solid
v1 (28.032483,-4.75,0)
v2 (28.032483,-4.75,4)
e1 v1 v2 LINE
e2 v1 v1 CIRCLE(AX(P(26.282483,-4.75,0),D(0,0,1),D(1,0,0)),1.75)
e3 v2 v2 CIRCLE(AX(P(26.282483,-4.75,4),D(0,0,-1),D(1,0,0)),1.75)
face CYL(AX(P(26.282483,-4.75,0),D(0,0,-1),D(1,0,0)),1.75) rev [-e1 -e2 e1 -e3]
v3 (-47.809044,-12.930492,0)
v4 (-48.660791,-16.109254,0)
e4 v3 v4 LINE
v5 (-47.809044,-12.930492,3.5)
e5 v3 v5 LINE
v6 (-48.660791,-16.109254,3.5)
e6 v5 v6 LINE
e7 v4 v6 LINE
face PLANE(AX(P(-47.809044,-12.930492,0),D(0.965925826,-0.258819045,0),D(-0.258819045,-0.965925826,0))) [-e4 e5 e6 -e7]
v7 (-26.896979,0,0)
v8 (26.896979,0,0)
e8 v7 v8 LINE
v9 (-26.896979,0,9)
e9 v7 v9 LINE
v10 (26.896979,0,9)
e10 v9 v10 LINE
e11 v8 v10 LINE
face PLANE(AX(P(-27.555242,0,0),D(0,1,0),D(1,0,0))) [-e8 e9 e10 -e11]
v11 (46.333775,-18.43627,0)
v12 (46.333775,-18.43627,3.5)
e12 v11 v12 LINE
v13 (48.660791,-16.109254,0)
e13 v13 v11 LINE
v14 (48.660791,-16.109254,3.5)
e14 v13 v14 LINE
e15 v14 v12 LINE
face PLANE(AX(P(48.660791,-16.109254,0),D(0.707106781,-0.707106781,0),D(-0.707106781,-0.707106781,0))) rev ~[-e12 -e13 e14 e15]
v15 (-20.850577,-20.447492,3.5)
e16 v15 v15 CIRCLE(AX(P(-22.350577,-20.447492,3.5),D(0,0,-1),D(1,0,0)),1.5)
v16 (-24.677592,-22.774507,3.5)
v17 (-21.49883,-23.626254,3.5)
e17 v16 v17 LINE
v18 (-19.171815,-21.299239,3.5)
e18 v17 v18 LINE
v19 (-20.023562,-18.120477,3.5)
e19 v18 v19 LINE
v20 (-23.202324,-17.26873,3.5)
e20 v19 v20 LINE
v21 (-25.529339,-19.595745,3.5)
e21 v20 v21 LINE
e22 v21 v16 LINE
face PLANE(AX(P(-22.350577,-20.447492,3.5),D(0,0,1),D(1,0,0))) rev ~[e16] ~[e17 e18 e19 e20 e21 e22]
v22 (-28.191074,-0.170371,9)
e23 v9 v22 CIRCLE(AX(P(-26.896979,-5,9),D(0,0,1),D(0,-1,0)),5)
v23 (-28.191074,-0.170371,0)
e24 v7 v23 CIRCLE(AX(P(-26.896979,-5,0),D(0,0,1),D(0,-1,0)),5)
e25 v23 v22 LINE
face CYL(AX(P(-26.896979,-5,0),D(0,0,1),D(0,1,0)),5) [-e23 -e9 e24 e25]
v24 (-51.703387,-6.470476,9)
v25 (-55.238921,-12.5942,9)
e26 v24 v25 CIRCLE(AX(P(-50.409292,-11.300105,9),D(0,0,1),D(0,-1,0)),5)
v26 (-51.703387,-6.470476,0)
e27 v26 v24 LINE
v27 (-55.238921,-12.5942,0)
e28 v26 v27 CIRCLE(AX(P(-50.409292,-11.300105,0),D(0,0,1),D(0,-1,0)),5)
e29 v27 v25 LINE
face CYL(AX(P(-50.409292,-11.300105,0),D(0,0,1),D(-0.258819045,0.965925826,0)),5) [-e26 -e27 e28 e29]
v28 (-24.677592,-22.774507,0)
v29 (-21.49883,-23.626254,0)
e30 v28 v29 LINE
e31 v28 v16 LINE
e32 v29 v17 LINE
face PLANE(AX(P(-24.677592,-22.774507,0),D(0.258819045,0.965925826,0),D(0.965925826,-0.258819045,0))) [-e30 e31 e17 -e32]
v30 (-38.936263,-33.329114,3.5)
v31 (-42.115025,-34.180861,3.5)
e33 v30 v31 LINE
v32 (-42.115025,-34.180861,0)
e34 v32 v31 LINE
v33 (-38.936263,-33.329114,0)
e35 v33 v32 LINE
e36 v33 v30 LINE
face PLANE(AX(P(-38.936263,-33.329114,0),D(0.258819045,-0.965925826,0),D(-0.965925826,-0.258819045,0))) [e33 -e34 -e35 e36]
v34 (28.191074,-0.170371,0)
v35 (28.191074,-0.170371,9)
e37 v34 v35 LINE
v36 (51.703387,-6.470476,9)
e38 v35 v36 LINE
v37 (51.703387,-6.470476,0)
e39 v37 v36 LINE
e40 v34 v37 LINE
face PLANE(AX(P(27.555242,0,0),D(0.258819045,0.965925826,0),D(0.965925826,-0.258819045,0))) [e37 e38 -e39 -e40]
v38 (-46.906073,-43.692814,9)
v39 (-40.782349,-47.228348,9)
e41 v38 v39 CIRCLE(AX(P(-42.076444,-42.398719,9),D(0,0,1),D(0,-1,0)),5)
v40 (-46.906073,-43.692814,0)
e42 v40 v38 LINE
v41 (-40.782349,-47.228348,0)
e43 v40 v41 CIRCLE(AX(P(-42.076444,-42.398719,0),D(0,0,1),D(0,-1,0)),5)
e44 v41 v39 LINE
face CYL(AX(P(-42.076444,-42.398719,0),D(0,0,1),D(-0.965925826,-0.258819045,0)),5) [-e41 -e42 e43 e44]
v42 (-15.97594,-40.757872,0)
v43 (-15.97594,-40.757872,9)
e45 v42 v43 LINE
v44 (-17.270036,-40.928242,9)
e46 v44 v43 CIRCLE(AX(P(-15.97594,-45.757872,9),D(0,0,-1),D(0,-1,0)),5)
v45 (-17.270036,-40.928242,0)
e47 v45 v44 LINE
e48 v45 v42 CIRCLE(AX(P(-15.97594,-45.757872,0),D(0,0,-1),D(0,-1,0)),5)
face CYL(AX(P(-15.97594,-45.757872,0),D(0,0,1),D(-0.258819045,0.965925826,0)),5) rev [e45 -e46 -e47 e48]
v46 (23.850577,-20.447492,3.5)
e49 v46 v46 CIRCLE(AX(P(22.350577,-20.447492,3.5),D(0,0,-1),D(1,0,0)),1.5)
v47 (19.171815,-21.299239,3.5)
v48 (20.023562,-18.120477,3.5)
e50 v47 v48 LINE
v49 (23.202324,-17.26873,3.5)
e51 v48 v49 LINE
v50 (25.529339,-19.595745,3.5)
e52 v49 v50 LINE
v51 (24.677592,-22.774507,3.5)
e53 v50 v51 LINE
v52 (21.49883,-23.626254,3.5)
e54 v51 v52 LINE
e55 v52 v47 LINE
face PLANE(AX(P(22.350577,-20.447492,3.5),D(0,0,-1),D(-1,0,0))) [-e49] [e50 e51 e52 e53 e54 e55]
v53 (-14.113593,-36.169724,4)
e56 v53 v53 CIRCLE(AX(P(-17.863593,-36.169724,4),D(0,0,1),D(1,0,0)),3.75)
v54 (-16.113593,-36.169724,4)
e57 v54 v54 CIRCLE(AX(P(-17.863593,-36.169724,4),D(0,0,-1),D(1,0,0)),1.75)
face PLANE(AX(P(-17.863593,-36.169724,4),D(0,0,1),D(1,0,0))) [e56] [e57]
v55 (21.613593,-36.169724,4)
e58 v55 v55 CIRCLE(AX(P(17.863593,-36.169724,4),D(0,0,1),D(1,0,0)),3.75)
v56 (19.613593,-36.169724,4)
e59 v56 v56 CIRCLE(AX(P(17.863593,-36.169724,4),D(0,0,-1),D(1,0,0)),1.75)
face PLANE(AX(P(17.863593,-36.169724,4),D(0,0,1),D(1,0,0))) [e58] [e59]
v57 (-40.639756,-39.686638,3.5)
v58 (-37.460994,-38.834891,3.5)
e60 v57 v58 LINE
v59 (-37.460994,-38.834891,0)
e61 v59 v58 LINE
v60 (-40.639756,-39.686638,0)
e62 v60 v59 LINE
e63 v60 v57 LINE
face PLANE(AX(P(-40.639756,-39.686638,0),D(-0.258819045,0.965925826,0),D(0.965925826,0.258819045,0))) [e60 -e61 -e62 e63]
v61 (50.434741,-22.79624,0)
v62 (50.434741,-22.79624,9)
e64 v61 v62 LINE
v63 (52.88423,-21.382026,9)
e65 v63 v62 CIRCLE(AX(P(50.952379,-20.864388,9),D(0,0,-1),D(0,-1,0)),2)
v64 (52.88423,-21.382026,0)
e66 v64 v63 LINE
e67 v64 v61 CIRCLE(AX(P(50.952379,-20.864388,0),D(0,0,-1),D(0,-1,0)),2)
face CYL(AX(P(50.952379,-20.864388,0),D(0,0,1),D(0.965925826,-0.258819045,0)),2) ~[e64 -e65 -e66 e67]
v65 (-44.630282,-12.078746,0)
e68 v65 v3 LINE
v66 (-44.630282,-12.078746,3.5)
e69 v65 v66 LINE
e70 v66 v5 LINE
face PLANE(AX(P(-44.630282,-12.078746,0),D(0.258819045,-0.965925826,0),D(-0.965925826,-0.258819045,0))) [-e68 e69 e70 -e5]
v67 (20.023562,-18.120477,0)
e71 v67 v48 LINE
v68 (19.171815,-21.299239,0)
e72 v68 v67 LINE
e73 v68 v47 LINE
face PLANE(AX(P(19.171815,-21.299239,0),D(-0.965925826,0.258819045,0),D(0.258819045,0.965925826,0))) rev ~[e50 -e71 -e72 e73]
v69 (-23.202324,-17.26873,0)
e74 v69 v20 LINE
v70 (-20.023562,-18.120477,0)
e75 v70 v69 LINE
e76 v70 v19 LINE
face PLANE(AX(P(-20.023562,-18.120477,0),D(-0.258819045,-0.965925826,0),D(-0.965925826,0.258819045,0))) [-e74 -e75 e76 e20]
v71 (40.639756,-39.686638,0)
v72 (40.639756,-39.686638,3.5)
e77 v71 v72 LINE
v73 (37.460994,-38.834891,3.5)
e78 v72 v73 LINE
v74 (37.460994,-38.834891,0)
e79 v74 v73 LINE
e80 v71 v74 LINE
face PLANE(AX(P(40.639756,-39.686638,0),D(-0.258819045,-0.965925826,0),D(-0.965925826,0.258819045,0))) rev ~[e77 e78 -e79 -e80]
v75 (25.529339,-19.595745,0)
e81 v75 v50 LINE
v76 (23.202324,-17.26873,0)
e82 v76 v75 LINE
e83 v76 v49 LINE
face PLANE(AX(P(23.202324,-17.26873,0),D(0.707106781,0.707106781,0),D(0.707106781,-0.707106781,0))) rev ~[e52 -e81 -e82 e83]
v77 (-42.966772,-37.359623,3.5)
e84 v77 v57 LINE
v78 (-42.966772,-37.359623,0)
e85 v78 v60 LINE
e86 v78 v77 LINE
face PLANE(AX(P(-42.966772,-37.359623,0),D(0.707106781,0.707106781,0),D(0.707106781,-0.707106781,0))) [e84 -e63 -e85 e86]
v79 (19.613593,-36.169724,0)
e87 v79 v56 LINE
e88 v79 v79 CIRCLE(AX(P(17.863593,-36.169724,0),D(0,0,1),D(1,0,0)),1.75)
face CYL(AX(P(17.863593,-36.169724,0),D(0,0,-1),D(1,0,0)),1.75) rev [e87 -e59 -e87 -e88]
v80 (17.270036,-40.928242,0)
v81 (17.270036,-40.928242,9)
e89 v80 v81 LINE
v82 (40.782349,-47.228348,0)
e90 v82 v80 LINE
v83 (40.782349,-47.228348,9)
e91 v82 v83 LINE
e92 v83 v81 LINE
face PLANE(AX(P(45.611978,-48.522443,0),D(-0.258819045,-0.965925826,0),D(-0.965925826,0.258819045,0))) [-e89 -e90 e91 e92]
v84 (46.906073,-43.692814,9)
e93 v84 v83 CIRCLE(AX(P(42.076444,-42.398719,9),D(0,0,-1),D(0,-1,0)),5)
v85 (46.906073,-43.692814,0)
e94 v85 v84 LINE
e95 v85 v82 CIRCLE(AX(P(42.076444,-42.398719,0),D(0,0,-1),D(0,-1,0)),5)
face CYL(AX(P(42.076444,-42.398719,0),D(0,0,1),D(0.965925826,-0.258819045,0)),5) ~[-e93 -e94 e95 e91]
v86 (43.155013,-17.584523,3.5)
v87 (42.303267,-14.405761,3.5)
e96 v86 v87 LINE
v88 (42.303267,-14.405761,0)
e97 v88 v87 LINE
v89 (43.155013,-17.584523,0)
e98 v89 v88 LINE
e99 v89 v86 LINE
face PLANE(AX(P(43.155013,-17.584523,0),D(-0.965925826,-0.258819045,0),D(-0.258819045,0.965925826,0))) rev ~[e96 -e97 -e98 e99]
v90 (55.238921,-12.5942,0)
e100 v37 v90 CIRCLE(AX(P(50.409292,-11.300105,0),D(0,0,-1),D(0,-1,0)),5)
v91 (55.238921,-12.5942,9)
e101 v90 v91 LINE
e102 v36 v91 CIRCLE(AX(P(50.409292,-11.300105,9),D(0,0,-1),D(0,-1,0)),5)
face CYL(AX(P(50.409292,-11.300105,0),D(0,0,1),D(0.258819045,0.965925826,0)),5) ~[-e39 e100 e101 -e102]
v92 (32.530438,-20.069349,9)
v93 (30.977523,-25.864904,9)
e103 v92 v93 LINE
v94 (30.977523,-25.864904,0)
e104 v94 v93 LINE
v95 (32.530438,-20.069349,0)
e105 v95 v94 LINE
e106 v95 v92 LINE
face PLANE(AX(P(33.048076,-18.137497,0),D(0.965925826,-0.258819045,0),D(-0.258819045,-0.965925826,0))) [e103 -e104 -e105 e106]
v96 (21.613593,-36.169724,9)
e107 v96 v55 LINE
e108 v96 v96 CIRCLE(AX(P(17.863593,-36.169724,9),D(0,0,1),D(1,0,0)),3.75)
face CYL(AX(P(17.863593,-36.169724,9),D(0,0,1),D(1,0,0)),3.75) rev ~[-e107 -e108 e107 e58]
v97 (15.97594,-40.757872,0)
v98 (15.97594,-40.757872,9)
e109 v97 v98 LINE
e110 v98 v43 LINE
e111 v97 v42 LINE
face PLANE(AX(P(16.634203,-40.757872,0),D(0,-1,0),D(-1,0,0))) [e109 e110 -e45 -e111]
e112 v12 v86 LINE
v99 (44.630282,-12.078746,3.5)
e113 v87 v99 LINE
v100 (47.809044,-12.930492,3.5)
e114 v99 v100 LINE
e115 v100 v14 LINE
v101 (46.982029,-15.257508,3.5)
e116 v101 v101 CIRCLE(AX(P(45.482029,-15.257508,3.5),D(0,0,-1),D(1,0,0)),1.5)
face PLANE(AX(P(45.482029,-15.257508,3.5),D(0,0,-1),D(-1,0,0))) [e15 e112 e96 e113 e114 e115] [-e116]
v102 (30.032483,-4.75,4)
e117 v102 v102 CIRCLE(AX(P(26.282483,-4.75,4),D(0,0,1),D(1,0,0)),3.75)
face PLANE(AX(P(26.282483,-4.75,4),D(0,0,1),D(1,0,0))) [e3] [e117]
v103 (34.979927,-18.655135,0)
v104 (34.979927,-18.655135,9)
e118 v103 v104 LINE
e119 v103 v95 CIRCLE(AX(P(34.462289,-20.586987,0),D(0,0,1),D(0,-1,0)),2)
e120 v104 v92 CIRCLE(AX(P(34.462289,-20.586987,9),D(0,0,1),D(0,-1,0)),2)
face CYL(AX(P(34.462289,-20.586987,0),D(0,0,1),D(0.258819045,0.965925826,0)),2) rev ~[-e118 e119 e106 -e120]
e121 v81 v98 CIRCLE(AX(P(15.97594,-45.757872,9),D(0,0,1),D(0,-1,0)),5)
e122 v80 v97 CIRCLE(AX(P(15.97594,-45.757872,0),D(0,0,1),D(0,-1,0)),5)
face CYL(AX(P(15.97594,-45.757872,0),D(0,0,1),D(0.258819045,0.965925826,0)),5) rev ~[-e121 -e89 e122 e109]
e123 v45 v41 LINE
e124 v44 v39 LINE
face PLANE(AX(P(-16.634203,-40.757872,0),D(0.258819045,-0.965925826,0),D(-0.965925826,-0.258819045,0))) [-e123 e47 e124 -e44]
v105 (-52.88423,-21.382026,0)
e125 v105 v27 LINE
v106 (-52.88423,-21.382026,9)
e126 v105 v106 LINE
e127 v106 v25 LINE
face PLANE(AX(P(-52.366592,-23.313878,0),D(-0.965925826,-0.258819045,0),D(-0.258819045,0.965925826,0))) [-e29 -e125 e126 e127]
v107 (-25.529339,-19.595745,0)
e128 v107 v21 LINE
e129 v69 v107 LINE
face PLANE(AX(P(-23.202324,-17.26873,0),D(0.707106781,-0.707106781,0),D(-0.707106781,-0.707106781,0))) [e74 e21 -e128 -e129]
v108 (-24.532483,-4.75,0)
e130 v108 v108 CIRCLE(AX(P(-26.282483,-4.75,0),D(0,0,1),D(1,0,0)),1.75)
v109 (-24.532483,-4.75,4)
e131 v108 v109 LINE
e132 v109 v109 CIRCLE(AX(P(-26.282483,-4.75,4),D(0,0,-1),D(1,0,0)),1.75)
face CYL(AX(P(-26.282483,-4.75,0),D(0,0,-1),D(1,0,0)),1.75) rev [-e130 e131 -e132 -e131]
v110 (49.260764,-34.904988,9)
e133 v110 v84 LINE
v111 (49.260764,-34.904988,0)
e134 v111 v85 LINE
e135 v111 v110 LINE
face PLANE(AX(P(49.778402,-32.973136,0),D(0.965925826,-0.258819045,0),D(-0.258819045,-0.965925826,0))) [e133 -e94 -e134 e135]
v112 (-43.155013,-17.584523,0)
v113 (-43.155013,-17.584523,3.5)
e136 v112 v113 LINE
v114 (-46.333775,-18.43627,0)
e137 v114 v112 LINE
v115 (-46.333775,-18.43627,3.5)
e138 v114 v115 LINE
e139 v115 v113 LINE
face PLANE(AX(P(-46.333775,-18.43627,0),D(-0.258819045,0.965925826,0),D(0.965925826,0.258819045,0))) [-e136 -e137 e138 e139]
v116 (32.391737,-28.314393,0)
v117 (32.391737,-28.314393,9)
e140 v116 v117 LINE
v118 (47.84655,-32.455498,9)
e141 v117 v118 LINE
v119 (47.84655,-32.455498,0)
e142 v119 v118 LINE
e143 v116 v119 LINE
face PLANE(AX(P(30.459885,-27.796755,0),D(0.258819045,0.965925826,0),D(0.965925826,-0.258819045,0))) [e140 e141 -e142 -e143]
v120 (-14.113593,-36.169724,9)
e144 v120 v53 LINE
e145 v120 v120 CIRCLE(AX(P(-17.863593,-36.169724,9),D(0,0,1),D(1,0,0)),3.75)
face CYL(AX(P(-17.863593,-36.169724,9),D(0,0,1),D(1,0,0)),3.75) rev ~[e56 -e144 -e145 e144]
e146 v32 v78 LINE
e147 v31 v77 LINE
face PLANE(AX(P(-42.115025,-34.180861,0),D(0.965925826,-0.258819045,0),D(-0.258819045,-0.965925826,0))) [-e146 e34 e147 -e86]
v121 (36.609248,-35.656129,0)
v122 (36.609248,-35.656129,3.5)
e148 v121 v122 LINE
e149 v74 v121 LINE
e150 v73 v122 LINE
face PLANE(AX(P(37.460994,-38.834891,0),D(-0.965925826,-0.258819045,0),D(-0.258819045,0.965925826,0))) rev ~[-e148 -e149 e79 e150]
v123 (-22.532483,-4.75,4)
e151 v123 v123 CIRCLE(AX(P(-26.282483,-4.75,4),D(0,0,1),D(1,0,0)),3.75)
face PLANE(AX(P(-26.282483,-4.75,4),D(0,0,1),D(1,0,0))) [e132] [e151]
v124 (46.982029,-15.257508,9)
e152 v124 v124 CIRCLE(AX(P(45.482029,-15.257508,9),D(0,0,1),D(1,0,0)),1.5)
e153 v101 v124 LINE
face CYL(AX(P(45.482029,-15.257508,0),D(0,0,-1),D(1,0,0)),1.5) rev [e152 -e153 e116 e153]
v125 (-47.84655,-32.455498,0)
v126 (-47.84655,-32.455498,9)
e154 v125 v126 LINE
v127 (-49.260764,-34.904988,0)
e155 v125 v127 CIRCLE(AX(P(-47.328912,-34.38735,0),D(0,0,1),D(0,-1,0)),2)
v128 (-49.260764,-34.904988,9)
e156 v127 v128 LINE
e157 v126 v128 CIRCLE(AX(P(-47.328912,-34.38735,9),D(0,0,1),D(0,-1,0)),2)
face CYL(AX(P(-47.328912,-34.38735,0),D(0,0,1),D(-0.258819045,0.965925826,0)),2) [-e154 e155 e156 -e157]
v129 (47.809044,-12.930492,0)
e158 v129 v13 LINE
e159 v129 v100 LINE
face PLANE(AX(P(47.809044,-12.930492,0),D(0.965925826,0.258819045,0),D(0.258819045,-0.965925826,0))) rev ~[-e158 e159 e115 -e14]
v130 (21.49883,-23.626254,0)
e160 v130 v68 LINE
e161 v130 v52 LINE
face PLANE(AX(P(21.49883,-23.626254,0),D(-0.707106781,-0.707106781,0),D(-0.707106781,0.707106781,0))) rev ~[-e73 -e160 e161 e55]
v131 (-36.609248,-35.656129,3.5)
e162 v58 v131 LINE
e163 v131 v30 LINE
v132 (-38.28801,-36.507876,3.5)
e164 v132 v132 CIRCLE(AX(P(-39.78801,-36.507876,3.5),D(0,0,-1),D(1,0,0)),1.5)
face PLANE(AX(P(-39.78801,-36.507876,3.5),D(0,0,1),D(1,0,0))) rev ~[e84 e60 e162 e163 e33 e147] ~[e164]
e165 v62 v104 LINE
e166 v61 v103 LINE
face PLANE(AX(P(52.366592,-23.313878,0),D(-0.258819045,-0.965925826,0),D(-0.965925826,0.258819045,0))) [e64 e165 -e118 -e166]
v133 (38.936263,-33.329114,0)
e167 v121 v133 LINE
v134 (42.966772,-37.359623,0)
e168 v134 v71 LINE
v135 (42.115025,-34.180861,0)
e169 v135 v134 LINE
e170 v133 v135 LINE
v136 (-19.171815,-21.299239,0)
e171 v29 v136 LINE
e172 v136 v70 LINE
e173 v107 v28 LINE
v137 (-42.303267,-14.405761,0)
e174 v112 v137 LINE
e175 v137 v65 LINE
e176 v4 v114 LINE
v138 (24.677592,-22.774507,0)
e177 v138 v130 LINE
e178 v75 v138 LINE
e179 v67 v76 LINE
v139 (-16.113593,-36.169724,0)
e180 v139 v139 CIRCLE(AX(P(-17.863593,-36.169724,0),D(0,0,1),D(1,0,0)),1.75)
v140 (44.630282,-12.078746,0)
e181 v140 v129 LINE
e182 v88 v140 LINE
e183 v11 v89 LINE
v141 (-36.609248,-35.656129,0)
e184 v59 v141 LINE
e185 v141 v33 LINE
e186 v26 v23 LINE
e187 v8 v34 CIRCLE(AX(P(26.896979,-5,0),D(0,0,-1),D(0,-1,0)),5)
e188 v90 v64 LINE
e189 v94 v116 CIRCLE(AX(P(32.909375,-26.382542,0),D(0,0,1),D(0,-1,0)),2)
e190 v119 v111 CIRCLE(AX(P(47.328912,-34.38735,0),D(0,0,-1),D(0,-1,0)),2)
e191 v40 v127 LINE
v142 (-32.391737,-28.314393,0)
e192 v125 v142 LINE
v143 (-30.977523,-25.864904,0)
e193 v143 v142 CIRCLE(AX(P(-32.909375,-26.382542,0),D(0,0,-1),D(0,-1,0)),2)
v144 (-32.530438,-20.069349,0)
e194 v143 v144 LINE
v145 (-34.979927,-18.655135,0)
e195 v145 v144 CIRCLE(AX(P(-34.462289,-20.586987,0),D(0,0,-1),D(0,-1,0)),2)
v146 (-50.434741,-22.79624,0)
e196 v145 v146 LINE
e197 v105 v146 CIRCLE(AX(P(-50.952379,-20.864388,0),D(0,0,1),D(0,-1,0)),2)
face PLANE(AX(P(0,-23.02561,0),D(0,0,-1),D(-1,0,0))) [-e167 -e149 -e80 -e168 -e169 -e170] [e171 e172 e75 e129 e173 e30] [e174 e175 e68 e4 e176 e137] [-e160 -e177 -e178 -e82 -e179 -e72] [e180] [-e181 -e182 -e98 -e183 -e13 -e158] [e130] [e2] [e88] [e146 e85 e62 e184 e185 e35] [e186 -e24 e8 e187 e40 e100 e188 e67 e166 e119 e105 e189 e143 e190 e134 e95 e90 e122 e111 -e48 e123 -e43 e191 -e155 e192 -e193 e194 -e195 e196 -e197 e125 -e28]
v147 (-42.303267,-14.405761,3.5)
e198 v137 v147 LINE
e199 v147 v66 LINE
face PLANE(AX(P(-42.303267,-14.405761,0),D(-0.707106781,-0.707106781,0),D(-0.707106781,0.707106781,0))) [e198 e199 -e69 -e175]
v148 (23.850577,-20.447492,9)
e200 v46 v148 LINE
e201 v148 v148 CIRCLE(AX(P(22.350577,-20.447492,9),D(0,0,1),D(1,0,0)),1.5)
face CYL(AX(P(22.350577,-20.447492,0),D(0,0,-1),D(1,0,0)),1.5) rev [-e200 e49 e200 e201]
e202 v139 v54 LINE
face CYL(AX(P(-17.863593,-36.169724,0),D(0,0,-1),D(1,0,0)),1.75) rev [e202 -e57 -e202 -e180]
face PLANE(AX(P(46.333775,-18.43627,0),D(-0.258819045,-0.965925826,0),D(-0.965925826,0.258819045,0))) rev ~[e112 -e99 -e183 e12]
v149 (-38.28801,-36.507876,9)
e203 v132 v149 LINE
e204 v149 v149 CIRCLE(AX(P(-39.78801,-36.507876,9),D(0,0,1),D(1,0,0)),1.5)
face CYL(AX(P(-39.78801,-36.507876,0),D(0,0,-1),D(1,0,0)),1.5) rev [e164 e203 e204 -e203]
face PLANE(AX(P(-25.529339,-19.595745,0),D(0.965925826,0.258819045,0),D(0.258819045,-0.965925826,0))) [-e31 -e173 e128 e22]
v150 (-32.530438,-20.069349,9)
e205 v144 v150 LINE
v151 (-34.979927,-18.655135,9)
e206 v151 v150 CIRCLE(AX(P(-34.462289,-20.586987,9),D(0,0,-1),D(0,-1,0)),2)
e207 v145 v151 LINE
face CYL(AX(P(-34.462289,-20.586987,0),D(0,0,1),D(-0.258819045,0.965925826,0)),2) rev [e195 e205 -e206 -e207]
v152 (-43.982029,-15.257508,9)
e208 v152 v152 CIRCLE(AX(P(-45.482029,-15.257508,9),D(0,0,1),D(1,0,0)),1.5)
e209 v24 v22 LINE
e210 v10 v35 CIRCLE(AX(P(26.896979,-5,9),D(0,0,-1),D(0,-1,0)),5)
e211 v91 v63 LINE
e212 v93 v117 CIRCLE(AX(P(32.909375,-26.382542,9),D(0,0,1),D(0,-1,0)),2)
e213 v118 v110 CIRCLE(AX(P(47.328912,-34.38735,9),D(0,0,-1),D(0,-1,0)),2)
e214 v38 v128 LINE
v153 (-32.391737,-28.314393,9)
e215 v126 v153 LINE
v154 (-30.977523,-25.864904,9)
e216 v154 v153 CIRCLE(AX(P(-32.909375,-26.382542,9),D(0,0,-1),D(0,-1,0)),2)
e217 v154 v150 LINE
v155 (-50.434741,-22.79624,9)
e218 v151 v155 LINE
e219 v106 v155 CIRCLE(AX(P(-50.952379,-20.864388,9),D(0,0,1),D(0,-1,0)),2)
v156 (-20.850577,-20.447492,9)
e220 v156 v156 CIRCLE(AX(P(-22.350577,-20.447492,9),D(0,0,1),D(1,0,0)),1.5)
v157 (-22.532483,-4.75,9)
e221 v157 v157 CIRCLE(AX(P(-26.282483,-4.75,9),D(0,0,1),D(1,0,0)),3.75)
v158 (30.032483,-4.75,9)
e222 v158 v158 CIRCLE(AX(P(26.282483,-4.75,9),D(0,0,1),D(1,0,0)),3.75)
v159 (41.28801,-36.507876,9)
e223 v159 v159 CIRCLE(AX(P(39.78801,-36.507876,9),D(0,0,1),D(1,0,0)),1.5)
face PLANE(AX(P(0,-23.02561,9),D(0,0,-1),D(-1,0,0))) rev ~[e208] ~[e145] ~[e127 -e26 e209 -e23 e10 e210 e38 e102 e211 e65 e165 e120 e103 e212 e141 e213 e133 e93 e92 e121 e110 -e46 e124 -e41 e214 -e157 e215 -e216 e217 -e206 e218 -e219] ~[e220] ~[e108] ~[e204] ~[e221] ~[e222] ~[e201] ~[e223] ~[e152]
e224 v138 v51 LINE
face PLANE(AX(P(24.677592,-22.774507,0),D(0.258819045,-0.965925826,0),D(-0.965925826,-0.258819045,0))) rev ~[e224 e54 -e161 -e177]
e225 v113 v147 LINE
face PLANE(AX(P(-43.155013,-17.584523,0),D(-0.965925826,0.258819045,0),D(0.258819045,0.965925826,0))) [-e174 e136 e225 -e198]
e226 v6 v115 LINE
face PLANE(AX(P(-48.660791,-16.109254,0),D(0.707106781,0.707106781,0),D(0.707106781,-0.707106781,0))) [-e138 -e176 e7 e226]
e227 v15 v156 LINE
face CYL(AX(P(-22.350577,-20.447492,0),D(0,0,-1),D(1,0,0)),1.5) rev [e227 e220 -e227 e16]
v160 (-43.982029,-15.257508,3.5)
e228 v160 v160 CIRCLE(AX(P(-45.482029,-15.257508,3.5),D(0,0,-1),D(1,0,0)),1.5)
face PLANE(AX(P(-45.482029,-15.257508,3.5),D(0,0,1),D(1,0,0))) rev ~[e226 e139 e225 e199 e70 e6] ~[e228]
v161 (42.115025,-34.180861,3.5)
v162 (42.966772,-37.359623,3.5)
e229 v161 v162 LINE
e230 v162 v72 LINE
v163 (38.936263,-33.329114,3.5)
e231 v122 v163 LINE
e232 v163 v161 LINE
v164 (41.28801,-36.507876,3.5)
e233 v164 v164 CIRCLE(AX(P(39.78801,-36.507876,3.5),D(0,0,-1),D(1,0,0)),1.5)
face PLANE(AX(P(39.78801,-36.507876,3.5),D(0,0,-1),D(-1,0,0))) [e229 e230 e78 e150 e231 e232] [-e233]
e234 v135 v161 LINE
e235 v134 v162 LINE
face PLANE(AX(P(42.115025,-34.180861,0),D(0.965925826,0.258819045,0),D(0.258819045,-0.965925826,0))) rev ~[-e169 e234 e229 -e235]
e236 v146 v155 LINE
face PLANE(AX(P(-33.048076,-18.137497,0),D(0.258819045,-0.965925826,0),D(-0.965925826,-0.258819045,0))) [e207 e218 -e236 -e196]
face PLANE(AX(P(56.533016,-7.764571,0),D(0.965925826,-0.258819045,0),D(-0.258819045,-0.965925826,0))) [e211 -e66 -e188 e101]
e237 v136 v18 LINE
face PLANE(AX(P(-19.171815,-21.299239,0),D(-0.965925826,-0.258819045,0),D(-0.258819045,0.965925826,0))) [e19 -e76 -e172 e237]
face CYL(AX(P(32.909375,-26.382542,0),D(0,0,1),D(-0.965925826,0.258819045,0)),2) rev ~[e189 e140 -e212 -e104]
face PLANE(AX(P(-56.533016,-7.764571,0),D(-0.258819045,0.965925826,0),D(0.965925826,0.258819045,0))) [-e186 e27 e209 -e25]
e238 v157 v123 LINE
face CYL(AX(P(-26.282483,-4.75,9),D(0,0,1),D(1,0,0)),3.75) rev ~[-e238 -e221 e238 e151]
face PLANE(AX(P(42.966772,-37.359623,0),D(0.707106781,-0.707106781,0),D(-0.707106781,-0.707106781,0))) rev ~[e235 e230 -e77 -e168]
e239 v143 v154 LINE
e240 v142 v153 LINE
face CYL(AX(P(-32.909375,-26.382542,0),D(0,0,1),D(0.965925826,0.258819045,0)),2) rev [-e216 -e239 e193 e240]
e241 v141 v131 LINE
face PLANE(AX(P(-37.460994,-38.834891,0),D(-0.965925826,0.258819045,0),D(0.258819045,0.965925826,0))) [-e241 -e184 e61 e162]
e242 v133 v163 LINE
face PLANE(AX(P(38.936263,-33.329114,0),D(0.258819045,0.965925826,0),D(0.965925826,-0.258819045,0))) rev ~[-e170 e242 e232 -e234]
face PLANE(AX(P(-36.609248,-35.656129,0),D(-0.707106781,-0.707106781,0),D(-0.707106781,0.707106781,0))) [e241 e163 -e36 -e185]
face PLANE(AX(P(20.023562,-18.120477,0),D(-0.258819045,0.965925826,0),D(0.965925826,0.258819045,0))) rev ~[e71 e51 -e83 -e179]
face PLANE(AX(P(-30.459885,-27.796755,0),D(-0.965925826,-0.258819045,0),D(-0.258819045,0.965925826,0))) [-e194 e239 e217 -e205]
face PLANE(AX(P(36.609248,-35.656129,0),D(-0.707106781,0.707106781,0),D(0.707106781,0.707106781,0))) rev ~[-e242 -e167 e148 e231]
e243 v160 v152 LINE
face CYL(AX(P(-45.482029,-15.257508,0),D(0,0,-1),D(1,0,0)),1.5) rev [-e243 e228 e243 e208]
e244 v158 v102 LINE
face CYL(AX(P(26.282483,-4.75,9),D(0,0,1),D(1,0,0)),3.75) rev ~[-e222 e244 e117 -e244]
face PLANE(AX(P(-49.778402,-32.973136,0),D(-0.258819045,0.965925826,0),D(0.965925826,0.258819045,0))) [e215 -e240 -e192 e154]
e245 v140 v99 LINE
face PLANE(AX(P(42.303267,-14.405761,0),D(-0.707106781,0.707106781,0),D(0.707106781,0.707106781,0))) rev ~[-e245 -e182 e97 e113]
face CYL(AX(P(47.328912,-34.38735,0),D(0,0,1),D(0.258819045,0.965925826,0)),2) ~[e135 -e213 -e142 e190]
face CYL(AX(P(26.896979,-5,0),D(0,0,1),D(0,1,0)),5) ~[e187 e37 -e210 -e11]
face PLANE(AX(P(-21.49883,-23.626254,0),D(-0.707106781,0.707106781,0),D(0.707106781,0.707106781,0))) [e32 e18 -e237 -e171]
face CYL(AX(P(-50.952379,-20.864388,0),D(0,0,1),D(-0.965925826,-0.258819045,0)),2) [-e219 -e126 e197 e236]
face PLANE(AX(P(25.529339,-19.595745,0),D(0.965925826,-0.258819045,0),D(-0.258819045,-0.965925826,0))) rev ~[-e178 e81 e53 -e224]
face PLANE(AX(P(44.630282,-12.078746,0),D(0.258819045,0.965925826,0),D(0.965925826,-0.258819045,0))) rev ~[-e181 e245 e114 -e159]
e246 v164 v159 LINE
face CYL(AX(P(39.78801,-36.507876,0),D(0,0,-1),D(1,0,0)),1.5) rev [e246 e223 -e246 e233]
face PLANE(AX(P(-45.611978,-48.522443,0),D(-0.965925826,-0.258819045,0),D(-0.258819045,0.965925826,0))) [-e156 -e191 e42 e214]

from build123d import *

# Parameters (mm, degrees)
SKETCH_1_R          = 1.75
SKETCH_1_R_2        = 1.5
EXTRUDE_1_DEPTH     = 9
FILLET_1_R          = 5
CUT_EXTRUDE_1_DEPTH = 3.5
SKETCH_5_R          = 3.75
CUT_EXTRUDE_2_DEPTH = 5
FILLET_2_R          = 2


with BuildPart() as part:
    # 草图1 → 凸台-拉伸1 (new body)
    with BuildSketch(Plane.XY):
        Polygon((-27.555241702, 0), (27.555241702, 0), (56.53301649, -7.764571353), (52.366592329, -23.31387801), (33.048075803, -18.137497108), (30.459885352, -27.796755371), (49.778401878, -32.973136273), (45.611977716, -48.52244293), (16.634202927, -40.757871577), (-16.634202927, -40.757871577), (-45.611977716, -48.52244293), (-49.778401878, -32.973136273), (-30.459885352, -27.796755371), (-33.048075803, -18.137497108), (-52.366592329, -23.31387801), (-56.53301649, -7.764571353), align=None)
        with Locations((-26.282483038, -4.75)):
            Circle(SKETCH_1_R, mode=Mode.SUBTRACT)
        with Locations((-17.863593392, -36.169723902)):
            Circle(SKETCH_1_R, mode=Mode.SUBTRACT)
        with Locations((17.863593392, -36.169723902)):
            Circle(SKETCH_1_R, mode=Mode.SUBTRACT)
        with Locations((26.282483038, -4.75)):
            Circle(SKETCH_1_R, mode=Mode.SUBTRACT)
        with Locations((-45.482028723, -15.257507669)):
            Circle(SKETCH_1_R_2, mode=Mode.SUBTRACT)
        with Locations((-22.350576875, -20.447491811)):
            Circle(SKETCH_1_R_2, mode=Mode.SUBTRACT)
        with Locations((-39.788009731, -36.507875848)):
            Circle(SKETCH_1_R_2, mode=Mode.SUBTRACT)
        with Locations((45.482028723, -15.257507669)):
            Circle(SKETCH_1_R_2, mode=Mode.SUBTRACT)
        with Locations((39.788009731, -36.507875848)):
            Circle(SKETCH_1_R_2, mode=Mode.SUBTRACT)
        with Locations((22.350576875, -20.447491811)):
            Circle(SKETCH_1_R_2, mode=Mode.SUBTRACT)
    extrude(amount=EXTRUDE_1_DEPTH)

    # 圆角1
    fillet_1_edges = [part.edges().sort_by_distance(p)[0] for p in [
        (-45.611977716, -48.52244293, 4.5),
        (-56.53301649, -7.764571353, 4.5),
        (-27.555241702, 0, 4.5),
        (27.555241702, 0, 4.5),
        (56.53301649, -7.764571353, 4.5),
        (45.611977716, -48.52244293, 4.5),
        (16.634202927, -40.757871577, 4.5),
        (-16.634202927, -40.757871577, 4.5),
    ]]
    fillet(fillet_1_edges, radius=FILLET_1_R)

    # 草图2 → 切除-拉伸1 (cut)
    with BuildSketch(Plane(origin=(0, 0, 0), x_dir=(-1, 0, 0), z_dir=(0, 0, -1))):
        Polygon((-42.303266769, -14.405760971), (-44.630282024, -12.078745715), (-47.809043978, -12.930492414), (-48.660790677, -16.109254368), (-46.333775421, -18.436269623), (-43.155013467, -17.584522925), align=None)
        Polygon((-21.498830176, -23.626253766), (-19.17181492, -21.29923851), (-20.023561619, -18.120476556), (-23.202323573, -17.268729857), (-25.529338829, -19.595745113), (-24.67759213, -22.774507067), align=None)
        Polygon((-36.609247776, -35.656129149), (-38.936263032, -33.329113893), (-42.115024986, -34.180860592), (-42.966771685, -37.359622546), (-40.639756429, -39.686637802), (-37.460994475, -38.834891103), align=None)
        Polygon((37.460994475, -38.834891103), (36.609247776, -35.656129149), (38.936263032, -33.329113893), (42.115024986, -34.180860592), (42.966771685, -37.359622546), (40.639756429, -39.686637802), align=None)
        Polygon((43.155013467, -17.584522925), (42.303266769, -14.405760971), (44.630282024, -12.078745715), (47.809043978, -12.930492414), (48.660790677, -16.109254368), (46.333775421, -18.436269623), align=None)
        Polygon((24.67759213, -22.774507067), (21.498830176, -23.626253766), (19.17181492, -21.29923851), (20.023561619, -18.120476556), (23.202323573, -17.268729857), (25.529338829, -19.595745113), align=None)
    extrude(amount=-CUT_EXTRUDE_1_DEPTH, mode=Mode.SUBTRACT)

    # 草图5 → 切除-拉伸2 (cut)
    with BuildSketch(Plane.XY.offset(9)):
        with Locations((-26.282483038, -4.75)):
            Circle(SKETCH_5_R)
        with Locations((-17.863593392, -36.169723902)):
            Circle(SKETCH_5_R)
        with Locations((17.863593392, -36.169723902)):
            Circle(SKETCH_5_R)
        with Locations((26.282483038, -4.75)):
            Circle(SKETCH_5_R)
    extrude(amount=-CUT_EXTRUDE_2_DEPTH, mode=Mode.SUBTRACT)

    # 圆角2
    fillet_2_edges = [part.edges().sort_by_distance(p)[0] for p in [
        (-49.778401878, -32.973136273, 4.5),
        (-30.459885352, -27.796755371, 4.5),
        (-33.048075803, -18.137497108, 4.5),
        (-52.366592329, -23.31387801, 4.5),
        (52.366592329, -23.31387801, 4.5),
        (33.048075803, -18.137497108, 4.5),
        (30.459885352, -27.796755371, 4.5),
        (49.778401878, -32.973136273, 4.5),
    ]]
    fillet(fillet_2_edges, radius=FILLET_2_R)


solid = part.part
